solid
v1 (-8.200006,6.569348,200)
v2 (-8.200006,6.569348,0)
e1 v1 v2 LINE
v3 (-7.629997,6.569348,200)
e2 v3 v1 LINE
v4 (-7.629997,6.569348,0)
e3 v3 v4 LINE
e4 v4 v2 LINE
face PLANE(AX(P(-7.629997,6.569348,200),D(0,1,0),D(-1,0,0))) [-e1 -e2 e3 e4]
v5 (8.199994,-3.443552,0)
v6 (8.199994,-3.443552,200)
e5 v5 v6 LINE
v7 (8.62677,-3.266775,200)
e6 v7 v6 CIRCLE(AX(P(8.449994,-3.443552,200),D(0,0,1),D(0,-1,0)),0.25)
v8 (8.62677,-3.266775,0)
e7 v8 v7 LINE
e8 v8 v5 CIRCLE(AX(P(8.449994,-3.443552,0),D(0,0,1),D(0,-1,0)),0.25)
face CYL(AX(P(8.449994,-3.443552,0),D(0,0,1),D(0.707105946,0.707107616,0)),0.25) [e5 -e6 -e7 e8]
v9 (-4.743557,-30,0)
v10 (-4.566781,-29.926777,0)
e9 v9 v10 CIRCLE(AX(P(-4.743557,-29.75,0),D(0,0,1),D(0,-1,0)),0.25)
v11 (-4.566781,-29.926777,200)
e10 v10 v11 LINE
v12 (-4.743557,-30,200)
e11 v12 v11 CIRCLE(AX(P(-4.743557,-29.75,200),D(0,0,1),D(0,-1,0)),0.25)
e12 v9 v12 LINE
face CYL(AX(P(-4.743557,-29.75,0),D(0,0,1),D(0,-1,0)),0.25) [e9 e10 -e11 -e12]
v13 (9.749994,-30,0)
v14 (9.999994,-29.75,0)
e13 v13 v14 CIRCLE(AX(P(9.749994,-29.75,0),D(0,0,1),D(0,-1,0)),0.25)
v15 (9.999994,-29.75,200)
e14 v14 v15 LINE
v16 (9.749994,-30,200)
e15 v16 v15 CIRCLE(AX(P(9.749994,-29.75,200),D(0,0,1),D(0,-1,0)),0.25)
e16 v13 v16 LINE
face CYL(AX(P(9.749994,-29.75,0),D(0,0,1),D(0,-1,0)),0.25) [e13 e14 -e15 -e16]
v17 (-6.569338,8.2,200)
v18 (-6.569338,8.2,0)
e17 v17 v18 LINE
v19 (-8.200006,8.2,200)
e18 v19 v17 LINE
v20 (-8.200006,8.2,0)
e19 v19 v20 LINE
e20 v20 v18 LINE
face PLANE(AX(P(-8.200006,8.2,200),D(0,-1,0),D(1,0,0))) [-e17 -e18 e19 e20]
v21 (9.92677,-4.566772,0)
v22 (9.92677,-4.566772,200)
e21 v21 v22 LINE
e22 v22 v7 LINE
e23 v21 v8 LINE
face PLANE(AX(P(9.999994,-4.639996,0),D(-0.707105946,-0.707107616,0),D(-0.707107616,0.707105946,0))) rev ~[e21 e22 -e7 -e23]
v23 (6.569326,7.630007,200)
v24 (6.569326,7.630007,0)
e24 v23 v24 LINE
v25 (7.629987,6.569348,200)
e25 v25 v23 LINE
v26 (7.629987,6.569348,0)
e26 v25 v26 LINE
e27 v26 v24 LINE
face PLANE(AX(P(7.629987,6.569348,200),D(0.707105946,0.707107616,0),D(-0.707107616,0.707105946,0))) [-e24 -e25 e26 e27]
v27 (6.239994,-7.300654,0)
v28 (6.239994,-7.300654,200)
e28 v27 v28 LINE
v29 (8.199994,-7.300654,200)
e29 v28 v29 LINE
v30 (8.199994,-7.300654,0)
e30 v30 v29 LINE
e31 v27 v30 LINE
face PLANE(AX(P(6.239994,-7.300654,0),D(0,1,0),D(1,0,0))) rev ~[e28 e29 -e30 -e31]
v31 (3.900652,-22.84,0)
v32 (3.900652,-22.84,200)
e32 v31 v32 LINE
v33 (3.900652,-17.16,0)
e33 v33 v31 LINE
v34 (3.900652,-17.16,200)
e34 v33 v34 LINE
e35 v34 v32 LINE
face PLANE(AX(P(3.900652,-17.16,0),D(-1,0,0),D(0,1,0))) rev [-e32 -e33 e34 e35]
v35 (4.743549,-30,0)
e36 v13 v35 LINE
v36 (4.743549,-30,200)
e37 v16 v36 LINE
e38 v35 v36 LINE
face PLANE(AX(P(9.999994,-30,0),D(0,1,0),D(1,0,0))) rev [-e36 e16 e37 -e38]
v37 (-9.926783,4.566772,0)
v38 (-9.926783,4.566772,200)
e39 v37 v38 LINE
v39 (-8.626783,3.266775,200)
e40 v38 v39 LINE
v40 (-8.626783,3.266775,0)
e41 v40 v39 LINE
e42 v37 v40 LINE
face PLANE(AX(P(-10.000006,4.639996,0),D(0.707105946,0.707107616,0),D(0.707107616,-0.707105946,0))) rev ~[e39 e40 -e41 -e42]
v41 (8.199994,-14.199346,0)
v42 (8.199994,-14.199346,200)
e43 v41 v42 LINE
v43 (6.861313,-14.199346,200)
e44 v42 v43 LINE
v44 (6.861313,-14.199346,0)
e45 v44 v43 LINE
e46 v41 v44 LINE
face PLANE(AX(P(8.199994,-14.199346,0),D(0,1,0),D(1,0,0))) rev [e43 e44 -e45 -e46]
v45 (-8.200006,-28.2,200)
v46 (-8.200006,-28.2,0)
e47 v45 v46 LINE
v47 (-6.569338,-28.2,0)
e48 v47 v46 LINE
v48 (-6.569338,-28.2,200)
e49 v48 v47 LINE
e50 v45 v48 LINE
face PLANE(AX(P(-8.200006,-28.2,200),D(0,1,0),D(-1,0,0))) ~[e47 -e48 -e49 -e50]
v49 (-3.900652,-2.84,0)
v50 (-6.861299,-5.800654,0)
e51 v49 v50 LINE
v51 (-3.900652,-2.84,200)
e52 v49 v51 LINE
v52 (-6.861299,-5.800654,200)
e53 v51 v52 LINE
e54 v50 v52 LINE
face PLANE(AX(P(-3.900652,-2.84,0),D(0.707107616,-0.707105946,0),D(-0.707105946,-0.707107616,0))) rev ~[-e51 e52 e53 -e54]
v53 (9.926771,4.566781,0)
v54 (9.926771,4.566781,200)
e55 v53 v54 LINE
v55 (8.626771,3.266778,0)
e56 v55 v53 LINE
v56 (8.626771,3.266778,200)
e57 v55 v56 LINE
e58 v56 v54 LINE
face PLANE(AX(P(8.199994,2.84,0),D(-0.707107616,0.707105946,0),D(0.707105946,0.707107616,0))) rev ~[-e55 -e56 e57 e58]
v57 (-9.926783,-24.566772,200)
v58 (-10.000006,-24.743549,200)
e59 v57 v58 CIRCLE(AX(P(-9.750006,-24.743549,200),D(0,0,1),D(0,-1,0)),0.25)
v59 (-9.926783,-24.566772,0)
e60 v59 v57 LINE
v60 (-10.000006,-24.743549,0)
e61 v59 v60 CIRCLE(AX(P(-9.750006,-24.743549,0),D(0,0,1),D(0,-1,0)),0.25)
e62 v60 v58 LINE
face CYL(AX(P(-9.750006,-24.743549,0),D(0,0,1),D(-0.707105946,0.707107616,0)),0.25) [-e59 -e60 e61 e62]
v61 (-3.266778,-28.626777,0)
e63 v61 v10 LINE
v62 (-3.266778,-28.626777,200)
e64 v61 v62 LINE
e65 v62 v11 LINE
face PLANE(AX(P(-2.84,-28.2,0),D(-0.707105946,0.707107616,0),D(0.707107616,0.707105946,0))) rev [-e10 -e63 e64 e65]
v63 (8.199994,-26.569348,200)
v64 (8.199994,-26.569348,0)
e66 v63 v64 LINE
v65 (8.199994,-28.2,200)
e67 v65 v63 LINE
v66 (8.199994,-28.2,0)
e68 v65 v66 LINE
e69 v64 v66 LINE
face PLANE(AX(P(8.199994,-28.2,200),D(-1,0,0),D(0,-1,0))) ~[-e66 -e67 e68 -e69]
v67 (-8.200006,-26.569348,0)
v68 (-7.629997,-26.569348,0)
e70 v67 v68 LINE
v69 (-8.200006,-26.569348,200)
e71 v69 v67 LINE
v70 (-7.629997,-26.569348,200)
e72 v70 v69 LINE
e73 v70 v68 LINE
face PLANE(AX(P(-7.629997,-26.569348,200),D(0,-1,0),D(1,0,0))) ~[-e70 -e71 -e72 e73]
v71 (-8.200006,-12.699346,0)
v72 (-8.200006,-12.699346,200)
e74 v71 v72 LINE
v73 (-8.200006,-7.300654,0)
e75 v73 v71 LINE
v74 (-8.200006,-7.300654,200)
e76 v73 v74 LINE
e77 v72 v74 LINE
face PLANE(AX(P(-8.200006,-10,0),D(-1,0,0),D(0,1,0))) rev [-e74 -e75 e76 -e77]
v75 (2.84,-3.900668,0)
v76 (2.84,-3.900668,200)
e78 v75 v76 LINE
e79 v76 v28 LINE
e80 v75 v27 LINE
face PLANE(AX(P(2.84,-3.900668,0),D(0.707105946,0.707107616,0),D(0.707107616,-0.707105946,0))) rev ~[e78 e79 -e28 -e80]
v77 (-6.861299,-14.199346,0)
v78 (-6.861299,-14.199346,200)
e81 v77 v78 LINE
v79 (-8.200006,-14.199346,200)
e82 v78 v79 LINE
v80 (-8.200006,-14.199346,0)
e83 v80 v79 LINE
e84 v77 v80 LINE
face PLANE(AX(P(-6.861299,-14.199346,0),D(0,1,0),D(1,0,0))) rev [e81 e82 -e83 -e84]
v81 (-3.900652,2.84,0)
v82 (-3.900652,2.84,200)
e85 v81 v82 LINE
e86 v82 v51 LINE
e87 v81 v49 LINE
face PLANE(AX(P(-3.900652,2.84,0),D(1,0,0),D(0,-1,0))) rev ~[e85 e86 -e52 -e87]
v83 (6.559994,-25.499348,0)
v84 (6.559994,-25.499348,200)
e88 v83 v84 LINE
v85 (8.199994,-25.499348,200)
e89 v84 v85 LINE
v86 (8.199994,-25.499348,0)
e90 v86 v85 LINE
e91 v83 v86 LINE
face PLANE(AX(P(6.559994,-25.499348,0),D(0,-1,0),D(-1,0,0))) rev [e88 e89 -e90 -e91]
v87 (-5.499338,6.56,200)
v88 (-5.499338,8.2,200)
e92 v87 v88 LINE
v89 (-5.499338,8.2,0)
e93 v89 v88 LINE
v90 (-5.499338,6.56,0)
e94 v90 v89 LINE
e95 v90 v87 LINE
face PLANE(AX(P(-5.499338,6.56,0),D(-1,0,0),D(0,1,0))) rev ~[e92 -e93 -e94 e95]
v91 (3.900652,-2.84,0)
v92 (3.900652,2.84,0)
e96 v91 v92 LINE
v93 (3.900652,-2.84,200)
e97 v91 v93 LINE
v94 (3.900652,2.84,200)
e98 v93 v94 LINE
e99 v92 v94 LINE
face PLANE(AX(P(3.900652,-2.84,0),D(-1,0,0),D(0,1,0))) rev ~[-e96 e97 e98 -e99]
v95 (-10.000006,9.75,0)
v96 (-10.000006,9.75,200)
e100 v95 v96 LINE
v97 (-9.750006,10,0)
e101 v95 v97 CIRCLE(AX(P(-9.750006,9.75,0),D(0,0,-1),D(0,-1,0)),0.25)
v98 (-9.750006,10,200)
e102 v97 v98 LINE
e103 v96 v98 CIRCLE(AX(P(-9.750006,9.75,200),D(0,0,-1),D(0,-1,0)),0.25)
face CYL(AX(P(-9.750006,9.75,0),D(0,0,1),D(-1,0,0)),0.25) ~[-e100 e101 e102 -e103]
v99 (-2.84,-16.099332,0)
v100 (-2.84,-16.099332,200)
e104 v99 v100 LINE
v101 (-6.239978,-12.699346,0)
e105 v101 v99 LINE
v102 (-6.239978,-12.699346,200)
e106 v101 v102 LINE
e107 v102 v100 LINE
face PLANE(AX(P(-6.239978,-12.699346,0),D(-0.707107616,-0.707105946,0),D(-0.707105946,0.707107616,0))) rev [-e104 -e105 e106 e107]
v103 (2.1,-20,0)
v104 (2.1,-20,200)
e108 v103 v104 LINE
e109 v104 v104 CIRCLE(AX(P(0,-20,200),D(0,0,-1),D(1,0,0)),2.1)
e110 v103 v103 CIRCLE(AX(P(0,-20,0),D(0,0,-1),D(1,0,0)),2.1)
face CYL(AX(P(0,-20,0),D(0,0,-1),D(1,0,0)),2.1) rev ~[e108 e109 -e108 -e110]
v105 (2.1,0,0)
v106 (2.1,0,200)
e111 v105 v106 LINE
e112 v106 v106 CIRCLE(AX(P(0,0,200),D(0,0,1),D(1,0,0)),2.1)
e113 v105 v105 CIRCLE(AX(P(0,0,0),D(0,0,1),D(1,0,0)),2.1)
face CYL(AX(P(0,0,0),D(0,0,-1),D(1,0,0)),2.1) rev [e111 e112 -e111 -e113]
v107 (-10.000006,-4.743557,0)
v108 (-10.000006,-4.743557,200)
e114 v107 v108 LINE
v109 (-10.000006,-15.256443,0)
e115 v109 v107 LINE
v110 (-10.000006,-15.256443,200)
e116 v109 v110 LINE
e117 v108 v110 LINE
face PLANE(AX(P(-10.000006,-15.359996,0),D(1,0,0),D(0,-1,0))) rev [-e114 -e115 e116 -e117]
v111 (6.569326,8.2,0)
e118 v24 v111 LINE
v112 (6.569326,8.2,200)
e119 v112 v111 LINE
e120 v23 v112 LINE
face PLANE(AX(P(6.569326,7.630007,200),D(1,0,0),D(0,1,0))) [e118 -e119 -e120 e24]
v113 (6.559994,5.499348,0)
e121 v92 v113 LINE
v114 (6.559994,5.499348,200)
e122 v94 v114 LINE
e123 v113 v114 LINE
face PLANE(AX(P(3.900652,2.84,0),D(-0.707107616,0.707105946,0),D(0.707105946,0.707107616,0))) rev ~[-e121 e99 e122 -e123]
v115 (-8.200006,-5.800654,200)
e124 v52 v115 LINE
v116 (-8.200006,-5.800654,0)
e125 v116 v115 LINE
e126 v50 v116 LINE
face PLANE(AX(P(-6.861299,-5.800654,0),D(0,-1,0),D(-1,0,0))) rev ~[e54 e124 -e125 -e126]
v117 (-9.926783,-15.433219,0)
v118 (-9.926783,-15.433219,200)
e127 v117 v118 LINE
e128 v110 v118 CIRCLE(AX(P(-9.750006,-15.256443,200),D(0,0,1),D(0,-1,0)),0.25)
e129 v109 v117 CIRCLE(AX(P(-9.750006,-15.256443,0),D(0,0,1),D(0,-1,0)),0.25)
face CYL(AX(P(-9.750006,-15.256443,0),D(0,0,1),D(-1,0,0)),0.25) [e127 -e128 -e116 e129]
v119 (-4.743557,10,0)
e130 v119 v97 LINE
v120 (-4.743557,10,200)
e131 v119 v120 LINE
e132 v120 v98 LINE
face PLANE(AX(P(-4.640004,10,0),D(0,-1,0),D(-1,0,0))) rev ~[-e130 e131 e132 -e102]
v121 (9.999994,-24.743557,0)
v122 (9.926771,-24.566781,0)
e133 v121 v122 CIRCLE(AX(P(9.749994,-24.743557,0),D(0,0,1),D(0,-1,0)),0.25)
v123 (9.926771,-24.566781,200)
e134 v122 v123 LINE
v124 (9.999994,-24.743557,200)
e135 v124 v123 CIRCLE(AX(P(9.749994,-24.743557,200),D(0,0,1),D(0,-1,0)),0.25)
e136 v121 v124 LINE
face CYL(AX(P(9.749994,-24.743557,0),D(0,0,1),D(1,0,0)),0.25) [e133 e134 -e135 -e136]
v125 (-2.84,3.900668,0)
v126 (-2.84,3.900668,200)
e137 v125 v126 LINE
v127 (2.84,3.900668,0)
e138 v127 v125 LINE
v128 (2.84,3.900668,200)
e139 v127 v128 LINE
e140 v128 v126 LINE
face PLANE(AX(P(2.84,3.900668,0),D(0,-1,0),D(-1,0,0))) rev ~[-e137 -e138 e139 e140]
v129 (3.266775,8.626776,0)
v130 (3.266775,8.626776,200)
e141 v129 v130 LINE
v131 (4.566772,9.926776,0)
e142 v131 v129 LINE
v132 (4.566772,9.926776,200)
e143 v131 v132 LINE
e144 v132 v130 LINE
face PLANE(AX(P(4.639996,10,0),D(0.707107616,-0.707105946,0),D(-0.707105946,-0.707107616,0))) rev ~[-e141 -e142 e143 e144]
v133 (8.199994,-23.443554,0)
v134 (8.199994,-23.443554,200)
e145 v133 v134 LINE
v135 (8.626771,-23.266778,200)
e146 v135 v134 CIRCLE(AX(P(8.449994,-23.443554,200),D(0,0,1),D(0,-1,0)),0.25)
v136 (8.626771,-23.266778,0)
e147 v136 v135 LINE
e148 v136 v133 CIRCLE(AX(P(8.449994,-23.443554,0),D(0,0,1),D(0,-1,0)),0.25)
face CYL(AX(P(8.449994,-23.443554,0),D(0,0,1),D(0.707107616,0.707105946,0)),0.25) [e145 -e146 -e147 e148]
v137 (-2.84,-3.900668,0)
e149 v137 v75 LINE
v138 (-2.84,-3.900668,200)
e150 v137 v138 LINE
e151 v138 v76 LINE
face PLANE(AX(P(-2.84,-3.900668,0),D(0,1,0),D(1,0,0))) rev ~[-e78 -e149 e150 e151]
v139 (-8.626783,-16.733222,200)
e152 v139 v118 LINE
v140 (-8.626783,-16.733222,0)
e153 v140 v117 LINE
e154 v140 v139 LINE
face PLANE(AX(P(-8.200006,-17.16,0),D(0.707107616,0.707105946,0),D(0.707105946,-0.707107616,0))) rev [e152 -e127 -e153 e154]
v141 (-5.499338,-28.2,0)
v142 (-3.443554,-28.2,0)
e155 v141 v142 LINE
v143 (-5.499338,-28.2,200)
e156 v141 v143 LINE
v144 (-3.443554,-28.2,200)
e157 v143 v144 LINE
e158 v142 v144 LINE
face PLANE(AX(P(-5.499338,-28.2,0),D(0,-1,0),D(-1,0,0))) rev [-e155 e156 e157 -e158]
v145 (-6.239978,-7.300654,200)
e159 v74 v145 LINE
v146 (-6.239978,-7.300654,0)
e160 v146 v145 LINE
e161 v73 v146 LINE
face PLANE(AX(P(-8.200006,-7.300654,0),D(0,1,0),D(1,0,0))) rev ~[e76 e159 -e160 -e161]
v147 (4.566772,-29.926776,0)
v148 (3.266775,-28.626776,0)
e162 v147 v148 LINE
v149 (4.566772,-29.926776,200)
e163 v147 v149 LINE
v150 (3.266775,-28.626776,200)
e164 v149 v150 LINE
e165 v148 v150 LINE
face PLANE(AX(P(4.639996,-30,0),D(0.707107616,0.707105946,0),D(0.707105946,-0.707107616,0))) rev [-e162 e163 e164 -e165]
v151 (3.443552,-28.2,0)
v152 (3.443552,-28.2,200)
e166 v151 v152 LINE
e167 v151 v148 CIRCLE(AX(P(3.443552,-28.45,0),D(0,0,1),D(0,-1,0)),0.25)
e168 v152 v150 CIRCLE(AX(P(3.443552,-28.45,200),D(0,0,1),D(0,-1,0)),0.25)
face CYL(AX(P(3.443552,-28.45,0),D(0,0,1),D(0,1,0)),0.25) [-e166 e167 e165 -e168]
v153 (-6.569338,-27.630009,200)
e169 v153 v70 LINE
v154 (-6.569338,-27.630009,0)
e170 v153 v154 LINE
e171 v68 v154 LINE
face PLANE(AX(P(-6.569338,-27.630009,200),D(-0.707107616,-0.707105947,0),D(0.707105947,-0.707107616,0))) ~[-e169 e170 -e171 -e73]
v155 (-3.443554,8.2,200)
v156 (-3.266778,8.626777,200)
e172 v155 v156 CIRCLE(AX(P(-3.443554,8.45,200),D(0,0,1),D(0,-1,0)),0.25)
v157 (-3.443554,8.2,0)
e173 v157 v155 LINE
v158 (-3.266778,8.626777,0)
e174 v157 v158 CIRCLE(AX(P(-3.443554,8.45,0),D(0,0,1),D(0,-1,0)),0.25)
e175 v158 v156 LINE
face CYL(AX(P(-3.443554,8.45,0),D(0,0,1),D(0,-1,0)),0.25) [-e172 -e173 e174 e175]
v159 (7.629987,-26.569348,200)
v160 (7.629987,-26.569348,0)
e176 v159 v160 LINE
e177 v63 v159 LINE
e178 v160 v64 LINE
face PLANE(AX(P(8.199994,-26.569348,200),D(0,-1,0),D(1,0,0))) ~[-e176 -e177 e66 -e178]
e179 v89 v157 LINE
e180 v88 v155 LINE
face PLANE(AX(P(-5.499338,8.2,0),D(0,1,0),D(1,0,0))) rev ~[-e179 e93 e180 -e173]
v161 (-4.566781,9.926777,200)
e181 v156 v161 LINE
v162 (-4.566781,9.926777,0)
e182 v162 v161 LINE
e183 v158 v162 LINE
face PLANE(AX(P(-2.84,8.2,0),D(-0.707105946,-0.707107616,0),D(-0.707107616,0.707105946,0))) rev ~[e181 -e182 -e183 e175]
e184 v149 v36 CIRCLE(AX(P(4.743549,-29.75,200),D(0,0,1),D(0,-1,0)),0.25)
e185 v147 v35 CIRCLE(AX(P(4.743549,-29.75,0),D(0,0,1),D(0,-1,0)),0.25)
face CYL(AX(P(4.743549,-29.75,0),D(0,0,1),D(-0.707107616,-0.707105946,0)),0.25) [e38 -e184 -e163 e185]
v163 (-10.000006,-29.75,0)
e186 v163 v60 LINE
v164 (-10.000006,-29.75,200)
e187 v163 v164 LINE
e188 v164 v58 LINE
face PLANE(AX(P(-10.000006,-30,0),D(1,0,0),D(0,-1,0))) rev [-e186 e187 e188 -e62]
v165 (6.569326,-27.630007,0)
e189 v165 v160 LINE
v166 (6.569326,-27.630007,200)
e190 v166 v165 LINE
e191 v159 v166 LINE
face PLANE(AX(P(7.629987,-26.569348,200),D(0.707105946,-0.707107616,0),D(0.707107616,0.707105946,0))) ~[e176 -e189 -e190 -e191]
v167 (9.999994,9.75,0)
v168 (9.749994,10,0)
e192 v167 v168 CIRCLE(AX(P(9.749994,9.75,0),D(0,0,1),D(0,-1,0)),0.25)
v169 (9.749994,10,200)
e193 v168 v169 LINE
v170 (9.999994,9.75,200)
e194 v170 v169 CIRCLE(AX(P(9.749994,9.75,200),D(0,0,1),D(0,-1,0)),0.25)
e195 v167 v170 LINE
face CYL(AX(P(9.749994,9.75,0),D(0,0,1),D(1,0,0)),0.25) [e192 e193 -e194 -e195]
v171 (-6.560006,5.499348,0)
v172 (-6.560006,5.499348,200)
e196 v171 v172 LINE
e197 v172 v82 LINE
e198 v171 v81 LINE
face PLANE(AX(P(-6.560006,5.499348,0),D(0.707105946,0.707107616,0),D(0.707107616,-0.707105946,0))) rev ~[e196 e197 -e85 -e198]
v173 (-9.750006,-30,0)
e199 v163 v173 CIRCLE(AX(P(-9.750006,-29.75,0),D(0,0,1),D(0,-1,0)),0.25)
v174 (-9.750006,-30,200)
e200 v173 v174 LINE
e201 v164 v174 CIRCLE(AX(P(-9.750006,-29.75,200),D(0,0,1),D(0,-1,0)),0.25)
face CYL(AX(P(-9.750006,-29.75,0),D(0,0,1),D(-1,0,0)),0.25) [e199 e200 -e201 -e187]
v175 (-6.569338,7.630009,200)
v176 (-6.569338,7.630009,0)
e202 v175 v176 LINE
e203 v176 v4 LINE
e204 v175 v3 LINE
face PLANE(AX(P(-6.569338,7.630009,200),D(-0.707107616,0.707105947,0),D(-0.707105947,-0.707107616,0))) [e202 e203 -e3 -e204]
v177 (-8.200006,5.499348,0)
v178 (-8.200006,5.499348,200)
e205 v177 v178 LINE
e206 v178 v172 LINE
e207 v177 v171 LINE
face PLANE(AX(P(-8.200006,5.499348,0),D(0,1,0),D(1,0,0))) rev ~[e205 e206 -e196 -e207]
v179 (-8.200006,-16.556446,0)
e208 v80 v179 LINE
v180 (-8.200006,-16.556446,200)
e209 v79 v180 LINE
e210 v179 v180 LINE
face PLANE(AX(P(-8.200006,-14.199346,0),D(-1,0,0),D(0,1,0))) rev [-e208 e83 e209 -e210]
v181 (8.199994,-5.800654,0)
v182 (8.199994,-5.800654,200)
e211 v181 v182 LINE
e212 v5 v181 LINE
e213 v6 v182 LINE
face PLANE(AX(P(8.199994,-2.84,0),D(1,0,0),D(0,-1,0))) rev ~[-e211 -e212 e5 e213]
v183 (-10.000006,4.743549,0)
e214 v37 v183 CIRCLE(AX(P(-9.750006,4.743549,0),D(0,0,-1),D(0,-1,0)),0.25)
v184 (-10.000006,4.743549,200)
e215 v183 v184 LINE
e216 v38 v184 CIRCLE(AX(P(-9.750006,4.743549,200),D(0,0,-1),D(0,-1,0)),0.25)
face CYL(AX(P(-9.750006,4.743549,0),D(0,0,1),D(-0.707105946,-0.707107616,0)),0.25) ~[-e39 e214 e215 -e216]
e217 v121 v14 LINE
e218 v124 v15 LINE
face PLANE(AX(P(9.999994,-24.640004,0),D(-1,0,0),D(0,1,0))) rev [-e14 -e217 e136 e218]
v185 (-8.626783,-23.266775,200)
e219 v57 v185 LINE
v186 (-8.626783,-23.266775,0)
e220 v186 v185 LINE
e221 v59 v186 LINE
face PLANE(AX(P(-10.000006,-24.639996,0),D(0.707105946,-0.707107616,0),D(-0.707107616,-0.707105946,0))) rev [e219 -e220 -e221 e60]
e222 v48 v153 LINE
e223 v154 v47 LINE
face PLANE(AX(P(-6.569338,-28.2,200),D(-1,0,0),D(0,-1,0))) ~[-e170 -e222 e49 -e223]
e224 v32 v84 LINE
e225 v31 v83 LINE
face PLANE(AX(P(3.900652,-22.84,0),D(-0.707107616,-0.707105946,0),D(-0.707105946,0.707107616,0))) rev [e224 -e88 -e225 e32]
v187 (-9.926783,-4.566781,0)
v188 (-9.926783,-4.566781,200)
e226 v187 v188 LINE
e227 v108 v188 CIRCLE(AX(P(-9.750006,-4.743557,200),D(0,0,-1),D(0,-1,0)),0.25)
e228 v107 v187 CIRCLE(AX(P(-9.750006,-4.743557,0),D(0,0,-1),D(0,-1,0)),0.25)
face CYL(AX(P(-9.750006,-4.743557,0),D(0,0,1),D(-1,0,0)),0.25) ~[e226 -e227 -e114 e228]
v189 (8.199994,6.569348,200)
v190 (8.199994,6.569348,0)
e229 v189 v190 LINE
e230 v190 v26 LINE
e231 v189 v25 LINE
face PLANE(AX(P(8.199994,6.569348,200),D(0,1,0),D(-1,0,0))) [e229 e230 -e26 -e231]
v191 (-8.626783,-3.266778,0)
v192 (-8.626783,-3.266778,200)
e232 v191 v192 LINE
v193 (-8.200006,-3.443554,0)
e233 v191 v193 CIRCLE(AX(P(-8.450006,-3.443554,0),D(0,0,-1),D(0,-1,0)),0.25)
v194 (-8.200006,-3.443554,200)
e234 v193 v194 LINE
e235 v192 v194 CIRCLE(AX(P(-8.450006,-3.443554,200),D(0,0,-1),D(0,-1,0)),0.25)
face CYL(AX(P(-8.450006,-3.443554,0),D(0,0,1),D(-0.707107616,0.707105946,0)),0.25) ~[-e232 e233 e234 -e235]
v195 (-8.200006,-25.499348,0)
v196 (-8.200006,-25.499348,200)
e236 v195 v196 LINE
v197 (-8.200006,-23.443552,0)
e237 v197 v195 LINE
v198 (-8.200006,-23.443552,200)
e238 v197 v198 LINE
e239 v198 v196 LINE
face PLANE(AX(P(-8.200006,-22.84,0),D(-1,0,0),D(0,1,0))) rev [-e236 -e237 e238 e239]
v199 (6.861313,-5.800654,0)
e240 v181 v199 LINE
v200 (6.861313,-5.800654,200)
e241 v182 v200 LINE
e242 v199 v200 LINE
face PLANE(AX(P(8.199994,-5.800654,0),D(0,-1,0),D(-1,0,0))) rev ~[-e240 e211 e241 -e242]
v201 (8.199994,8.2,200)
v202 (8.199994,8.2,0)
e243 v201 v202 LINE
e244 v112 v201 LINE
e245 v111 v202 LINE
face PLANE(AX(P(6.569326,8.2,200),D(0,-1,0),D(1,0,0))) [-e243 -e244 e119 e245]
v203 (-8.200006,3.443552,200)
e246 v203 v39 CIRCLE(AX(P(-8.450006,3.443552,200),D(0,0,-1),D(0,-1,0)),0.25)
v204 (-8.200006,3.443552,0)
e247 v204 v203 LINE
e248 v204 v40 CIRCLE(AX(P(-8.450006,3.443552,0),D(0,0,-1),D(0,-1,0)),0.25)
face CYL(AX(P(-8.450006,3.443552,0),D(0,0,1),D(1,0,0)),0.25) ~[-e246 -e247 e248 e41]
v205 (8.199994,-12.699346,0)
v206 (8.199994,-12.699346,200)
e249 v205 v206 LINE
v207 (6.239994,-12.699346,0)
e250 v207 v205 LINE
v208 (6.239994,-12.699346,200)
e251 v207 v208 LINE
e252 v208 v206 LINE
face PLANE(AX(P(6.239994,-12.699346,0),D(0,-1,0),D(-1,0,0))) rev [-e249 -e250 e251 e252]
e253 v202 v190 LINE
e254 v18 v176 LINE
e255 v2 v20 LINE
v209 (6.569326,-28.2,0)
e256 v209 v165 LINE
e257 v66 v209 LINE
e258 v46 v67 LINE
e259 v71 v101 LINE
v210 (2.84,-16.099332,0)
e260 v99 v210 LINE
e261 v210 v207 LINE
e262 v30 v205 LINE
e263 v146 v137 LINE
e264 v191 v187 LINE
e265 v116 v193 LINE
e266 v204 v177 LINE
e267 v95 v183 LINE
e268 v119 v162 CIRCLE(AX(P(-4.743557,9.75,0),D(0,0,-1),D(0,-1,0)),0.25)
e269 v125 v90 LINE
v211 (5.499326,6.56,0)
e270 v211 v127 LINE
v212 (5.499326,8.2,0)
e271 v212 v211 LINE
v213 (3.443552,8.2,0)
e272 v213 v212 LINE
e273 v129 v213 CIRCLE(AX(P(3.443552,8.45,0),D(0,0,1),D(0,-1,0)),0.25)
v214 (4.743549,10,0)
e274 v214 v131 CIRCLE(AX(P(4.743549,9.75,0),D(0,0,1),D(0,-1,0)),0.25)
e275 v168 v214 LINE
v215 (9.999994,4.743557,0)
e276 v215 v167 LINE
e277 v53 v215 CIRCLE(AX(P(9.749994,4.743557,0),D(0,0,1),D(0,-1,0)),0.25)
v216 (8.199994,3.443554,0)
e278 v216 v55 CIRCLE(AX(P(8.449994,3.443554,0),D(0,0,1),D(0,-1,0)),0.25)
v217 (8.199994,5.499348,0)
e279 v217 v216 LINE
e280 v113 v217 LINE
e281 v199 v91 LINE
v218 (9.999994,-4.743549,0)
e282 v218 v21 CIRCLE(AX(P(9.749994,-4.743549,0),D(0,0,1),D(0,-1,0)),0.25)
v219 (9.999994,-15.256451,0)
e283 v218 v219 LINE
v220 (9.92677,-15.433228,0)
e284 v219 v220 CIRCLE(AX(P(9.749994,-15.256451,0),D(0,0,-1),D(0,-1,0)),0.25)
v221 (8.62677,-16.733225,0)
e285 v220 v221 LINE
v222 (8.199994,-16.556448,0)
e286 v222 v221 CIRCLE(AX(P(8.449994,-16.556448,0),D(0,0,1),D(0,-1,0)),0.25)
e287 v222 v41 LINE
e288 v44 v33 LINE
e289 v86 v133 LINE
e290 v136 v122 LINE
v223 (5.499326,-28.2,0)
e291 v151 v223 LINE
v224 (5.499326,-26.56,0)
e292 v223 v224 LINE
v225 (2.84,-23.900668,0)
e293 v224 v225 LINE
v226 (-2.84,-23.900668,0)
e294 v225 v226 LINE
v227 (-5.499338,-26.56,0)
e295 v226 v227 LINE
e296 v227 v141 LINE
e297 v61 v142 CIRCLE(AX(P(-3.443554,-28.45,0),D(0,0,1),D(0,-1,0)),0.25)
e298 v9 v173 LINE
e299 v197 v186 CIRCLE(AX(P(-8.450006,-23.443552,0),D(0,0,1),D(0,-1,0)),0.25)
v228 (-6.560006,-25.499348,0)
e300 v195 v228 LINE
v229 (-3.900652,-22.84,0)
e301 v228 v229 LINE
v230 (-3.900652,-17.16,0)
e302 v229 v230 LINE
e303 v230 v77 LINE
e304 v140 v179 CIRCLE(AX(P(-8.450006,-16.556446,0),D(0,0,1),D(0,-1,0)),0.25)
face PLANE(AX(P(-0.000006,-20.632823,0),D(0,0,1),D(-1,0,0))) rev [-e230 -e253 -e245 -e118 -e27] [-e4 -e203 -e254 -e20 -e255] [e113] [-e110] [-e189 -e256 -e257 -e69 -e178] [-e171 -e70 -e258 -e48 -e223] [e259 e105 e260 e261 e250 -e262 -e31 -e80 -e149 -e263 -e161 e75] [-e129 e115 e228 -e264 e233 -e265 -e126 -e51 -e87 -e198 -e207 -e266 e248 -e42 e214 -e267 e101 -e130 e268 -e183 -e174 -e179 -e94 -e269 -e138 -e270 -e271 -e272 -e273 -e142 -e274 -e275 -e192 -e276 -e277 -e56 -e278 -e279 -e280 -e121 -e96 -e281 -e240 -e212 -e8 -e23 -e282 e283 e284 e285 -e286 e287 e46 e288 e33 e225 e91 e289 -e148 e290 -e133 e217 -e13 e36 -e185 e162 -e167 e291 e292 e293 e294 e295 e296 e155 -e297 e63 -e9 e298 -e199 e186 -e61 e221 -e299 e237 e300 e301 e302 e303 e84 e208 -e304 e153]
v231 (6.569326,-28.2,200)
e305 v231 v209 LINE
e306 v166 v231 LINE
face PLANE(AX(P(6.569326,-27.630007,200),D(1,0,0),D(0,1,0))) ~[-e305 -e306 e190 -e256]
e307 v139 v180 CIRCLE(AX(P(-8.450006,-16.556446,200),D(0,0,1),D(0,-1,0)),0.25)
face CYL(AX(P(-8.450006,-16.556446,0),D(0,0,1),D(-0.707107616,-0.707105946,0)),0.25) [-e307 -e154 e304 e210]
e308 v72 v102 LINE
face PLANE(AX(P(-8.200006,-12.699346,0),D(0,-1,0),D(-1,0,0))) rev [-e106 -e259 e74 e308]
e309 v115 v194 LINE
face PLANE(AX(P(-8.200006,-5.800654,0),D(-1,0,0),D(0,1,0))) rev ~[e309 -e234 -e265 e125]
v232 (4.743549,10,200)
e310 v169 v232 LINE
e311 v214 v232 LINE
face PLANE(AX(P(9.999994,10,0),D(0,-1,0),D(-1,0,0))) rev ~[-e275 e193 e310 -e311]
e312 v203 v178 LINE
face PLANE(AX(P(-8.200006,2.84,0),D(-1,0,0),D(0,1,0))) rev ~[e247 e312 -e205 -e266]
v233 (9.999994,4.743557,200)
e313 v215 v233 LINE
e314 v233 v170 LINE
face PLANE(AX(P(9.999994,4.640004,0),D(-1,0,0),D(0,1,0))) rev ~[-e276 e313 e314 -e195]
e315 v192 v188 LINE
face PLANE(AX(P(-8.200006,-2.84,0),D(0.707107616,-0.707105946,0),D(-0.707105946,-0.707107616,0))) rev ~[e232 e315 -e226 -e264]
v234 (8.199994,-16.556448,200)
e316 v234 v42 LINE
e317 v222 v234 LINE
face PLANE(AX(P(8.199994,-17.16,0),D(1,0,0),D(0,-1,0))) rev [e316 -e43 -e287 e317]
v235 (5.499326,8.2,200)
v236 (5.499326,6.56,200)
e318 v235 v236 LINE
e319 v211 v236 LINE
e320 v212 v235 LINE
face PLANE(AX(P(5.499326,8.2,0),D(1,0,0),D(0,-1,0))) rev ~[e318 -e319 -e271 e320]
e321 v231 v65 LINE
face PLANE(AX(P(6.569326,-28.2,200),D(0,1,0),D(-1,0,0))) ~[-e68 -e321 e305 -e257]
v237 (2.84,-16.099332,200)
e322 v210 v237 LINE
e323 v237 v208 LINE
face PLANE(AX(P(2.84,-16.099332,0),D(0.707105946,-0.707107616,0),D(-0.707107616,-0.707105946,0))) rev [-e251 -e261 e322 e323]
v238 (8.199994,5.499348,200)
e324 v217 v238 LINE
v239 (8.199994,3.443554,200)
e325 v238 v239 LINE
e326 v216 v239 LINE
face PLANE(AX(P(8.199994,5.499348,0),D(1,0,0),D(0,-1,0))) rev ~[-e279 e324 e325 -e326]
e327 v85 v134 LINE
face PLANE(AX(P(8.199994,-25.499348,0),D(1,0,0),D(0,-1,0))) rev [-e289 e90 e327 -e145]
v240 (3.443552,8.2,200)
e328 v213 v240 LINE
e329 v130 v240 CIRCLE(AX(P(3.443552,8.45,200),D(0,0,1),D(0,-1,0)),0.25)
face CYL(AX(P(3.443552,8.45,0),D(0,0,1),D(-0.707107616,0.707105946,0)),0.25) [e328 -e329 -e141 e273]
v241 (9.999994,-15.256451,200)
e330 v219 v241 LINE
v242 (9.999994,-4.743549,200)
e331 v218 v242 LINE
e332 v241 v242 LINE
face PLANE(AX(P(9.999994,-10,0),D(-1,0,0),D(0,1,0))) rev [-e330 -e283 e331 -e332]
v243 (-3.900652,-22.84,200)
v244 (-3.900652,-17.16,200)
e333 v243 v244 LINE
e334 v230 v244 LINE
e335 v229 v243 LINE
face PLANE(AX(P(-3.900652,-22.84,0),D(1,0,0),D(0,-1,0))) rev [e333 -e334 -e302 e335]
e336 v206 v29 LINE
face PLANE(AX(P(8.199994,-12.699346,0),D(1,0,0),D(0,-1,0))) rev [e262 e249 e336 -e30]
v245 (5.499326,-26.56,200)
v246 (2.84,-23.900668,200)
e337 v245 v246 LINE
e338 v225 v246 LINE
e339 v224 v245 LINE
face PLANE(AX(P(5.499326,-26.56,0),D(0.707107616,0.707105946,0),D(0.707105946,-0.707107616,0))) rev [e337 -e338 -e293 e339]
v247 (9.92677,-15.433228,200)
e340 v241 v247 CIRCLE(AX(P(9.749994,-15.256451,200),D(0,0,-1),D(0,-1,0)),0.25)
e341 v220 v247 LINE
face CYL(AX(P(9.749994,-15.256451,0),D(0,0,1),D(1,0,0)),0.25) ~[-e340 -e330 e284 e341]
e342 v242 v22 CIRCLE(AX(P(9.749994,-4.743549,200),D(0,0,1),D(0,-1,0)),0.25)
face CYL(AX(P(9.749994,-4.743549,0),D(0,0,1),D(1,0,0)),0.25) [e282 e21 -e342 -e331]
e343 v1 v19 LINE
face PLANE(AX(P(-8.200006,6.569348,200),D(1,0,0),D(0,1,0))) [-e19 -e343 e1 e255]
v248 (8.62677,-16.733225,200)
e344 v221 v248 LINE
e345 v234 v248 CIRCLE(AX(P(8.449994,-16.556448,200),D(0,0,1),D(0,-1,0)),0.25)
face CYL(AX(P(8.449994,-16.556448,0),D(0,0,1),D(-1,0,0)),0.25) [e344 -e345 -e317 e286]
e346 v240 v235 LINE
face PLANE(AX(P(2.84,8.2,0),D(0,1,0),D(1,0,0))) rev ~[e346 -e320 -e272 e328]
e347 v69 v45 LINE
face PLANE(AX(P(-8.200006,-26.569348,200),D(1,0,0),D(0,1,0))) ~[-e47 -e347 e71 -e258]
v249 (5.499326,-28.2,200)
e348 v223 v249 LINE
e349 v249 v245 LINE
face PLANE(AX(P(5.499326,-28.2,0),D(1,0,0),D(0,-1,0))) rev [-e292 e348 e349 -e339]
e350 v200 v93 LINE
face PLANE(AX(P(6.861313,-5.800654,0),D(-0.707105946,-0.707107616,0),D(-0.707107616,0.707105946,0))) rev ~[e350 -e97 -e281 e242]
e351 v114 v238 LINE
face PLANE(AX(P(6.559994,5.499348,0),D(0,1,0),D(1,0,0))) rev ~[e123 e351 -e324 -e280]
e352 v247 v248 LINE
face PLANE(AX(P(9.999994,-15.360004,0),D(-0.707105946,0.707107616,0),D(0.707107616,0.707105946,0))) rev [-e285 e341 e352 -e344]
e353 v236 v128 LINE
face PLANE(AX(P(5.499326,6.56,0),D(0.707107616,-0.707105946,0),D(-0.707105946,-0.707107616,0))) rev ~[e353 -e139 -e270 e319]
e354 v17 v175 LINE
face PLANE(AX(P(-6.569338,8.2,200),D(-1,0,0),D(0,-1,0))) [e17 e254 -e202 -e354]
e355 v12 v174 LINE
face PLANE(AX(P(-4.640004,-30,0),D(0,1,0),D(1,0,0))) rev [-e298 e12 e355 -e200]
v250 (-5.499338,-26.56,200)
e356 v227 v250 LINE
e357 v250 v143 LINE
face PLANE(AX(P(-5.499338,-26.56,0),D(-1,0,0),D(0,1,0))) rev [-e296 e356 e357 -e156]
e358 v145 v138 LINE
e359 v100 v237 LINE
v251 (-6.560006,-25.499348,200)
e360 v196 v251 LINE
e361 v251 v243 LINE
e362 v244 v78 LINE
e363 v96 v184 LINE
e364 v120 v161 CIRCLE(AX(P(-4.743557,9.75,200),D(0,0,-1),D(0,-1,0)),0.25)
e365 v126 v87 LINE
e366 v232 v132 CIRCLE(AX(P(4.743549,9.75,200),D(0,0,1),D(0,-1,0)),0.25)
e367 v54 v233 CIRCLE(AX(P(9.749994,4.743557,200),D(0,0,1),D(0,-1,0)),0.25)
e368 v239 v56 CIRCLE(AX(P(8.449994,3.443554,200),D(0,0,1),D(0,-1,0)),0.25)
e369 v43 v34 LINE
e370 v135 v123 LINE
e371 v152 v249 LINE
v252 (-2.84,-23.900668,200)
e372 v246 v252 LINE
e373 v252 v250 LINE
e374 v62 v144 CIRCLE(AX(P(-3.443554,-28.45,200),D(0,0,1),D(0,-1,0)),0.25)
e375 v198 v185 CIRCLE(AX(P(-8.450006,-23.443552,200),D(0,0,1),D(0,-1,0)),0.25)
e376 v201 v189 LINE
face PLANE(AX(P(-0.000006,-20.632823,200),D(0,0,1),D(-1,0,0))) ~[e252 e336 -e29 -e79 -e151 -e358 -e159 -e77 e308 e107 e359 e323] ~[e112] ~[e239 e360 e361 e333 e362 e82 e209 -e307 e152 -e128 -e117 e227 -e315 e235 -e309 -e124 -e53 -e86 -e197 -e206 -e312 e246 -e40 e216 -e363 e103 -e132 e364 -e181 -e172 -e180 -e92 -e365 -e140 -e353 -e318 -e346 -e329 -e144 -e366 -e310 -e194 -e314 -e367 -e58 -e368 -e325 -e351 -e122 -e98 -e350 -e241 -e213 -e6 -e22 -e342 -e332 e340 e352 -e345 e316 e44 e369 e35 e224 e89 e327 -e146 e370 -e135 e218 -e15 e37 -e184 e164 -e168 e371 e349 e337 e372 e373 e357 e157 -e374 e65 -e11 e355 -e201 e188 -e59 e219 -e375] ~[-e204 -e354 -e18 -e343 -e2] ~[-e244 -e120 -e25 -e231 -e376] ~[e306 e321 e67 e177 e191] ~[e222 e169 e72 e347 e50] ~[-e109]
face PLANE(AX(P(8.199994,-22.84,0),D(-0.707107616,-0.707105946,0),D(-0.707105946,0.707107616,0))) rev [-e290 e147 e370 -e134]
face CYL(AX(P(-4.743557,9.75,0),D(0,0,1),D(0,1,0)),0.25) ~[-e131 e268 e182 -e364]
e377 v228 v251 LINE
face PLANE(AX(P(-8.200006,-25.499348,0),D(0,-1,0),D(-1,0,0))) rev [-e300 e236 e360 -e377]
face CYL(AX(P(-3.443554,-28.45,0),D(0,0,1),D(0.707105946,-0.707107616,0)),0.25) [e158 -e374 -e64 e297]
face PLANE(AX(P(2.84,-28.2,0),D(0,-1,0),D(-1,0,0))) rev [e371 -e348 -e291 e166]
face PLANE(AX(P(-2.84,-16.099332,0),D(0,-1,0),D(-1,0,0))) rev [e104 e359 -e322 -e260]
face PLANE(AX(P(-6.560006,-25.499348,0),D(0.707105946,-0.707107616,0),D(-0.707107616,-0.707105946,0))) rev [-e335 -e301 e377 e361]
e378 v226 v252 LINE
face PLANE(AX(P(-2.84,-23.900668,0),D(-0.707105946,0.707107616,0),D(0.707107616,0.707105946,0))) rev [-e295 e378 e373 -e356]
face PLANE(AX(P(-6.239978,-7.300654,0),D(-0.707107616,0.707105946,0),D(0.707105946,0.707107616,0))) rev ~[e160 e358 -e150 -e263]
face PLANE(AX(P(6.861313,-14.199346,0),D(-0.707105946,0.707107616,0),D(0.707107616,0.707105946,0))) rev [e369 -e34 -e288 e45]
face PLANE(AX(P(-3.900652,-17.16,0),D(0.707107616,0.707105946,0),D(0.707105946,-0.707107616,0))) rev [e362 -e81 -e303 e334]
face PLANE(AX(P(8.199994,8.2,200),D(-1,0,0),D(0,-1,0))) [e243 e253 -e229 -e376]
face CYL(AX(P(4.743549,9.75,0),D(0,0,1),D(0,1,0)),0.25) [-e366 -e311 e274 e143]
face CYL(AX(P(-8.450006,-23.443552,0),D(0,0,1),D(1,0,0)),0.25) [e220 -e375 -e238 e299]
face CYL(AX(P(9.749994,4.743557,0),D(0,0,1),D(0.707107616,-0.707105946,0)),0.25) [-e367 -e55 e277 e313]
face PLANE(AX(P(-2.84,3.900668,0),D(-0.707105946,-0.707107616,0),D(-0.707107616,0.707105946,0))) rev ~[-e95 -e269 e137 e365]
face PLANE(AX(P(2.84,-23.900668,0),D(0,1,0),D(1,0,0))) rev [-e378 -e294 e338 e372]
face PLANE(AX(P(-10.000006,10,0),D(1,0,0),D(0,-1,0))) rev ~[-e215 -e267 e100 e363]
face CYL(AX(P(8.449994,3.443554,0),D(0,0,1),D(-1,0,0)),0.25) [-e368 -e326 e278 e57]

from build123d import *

# Parameters (mm, degrees)
SKETCH1_R            = 2.1
BOSS_EXTRUDE2_DEPTH  = 200
CUT_EXTRUDE1_DEPTH   = 201
FILLET1_R            = 0.25
FILLET1_OF_MIRROR1_R = 0.25


with BuildPart() as part:
    # Sketch1 → Boss-Extrude2 (new body)
    with BuildSketch(Plane.XY):
        Polygon((8.199993721, -10), (9.999993721, -10), (9.999993721, -4.63999575), (8.199993721, -2.84), (8.199993721, -5.800653822), (6.861313026, -5.800653822), (3.900652213, -2.84), (3.900652213, 2.84), (6.559993721, 5.499347787), (8.199993721, 5.499347787), (8.199993721, 2.84), (9.999993721, 4.64000425), (9.999993721, 10), (4.63999575, 10), (2.84, 8.2), (5.499325592, 8.2), (5.499325592, 6.56), (2.84, 3.900668129), (-2.84, 3.900668129), (-5.49933815, 6.56), (-5.49933815, 8.2), (-2.84, 8.2), (-4.64000425, 10), (-10.000006279, 10), (-10.000006279, 4.63999575), (-8.200006279, 2.84), (-8.200006279, 5.499347787), (-6.560006279, 5.499347787), (-3.900652213, 2.84), (-3.900652213, -2.84), (-6.861299044, -5.800653822), (-8.200006279, -5.800653822), (-8.200006279, -2.84), (-10.000006279, -4.64000425), (-10.000006279, -10), (-8.200006279, -10), (-8.200006279, -7.300653822), (-6.239977665, -7.300653822), (-2.84, -3.900668129), (2.84, -3.900668129), (6.239993721, -7.300653822), (8.199993721, -7.300653822), align=None)
        Circle(SKETCH1_R, mode=Mode.SUBTRACT)
    boss_extrude2 = extrude(amount=BOSS_EXTRUDE2_DEPTH)

    # Sketch2 → Cut-Extrude1 (cut, through all)
    with BuildSketch(Plane.XY.offset(200)):
        Polygon((-8.200006279, 6.569347787), (-8.200006279, 8.2), (-6.56933815, 8.2), (-6.56933815, 7.630009211), (-7.62999707, 6.569347787), align=None)
        Polygon((8.199993721, 8.2), (8.199993721, 6.569347787), (7.629987016, 6.569347787), (6.569325592, 7.630006706), (6.569325592, 8.2), align=None)
    cut_extrude1 = extrude(amount=-CUT_EXTRUDE1_DEPTH, mode=Mode.SUBTRACT)

    # Fillet1
    fillet1_edges = [part.edges().sort_by_distance(p)[0] for p in [
        (9.999993721, -4.63999575, 100),
        (-10.000006279, -4.64000425, 100),
        (-8.200006279, -2.84, 100),
        (-8.200006279, 2.84, 100),
        (-10.000006279, 4.63999575, 100),
        (-10.000006279, 10, 100),
        (-4.64000425, 10, 100),
        (-2.84, 8.2, 100),
        (2.84, 8.2, 100),
        (4.63999575, 10, 100),
        (9.999993721, 10, 100),
        (9.999993721, 4.64000425, 100),
        (8.199993721, 2.84, 100),
        (8.199993721, -2.84, 100),
    ]]
    fillet(fillet1_edges, radius=FILLET1_R)

    # Mirror1: Boss-Extrude2 across plane
    add(boss_extrude2.mirror(Plane(origin=(0, -10, 0), x_dir=(0, 0, 1), z_dir=(0, -1, 0))))

    # Fillet1 of Mirror1
    fillet1_of_mirror1_edges = [part.edges().sort_by_distance(p)[0] for p in [
        (9.999993721, -15.36000425, 100),
        (-10.000006279, -15.35999575, 100),
        (-8.200006279, -17.16, 100),
        (-8.200006279, -22.84, 100),
        (-10.000006279, -24.63999575, 100),
        (-10.000006279, -30, 100),
        (-4.64000425, -30, 100),
        (-2.84, -28.2, 100),
        (2.84, -28.2, 100),
        (4.63999575, -30, 100),
        (9.999993721, -30, 100),
        (9.999993721, -24.64000425, 100),
        (8.199993721, -22.84, 100),
        (8.199993721, -17.16, 100),
    ]]
    fillet(fillet1_of_mirror1_edges, radius=FILLET1_OF_MIRROR1_R)

    # Mirror2: Cut-Extrude1 across plane
    add(cut_extrude1.mirror(Plane(origin=(0, -10, 0), x_dir=(0, 0, 1), z_dir=(0, -1, 0))), mode=Mode.SUBTRACT)


solid = part.part
